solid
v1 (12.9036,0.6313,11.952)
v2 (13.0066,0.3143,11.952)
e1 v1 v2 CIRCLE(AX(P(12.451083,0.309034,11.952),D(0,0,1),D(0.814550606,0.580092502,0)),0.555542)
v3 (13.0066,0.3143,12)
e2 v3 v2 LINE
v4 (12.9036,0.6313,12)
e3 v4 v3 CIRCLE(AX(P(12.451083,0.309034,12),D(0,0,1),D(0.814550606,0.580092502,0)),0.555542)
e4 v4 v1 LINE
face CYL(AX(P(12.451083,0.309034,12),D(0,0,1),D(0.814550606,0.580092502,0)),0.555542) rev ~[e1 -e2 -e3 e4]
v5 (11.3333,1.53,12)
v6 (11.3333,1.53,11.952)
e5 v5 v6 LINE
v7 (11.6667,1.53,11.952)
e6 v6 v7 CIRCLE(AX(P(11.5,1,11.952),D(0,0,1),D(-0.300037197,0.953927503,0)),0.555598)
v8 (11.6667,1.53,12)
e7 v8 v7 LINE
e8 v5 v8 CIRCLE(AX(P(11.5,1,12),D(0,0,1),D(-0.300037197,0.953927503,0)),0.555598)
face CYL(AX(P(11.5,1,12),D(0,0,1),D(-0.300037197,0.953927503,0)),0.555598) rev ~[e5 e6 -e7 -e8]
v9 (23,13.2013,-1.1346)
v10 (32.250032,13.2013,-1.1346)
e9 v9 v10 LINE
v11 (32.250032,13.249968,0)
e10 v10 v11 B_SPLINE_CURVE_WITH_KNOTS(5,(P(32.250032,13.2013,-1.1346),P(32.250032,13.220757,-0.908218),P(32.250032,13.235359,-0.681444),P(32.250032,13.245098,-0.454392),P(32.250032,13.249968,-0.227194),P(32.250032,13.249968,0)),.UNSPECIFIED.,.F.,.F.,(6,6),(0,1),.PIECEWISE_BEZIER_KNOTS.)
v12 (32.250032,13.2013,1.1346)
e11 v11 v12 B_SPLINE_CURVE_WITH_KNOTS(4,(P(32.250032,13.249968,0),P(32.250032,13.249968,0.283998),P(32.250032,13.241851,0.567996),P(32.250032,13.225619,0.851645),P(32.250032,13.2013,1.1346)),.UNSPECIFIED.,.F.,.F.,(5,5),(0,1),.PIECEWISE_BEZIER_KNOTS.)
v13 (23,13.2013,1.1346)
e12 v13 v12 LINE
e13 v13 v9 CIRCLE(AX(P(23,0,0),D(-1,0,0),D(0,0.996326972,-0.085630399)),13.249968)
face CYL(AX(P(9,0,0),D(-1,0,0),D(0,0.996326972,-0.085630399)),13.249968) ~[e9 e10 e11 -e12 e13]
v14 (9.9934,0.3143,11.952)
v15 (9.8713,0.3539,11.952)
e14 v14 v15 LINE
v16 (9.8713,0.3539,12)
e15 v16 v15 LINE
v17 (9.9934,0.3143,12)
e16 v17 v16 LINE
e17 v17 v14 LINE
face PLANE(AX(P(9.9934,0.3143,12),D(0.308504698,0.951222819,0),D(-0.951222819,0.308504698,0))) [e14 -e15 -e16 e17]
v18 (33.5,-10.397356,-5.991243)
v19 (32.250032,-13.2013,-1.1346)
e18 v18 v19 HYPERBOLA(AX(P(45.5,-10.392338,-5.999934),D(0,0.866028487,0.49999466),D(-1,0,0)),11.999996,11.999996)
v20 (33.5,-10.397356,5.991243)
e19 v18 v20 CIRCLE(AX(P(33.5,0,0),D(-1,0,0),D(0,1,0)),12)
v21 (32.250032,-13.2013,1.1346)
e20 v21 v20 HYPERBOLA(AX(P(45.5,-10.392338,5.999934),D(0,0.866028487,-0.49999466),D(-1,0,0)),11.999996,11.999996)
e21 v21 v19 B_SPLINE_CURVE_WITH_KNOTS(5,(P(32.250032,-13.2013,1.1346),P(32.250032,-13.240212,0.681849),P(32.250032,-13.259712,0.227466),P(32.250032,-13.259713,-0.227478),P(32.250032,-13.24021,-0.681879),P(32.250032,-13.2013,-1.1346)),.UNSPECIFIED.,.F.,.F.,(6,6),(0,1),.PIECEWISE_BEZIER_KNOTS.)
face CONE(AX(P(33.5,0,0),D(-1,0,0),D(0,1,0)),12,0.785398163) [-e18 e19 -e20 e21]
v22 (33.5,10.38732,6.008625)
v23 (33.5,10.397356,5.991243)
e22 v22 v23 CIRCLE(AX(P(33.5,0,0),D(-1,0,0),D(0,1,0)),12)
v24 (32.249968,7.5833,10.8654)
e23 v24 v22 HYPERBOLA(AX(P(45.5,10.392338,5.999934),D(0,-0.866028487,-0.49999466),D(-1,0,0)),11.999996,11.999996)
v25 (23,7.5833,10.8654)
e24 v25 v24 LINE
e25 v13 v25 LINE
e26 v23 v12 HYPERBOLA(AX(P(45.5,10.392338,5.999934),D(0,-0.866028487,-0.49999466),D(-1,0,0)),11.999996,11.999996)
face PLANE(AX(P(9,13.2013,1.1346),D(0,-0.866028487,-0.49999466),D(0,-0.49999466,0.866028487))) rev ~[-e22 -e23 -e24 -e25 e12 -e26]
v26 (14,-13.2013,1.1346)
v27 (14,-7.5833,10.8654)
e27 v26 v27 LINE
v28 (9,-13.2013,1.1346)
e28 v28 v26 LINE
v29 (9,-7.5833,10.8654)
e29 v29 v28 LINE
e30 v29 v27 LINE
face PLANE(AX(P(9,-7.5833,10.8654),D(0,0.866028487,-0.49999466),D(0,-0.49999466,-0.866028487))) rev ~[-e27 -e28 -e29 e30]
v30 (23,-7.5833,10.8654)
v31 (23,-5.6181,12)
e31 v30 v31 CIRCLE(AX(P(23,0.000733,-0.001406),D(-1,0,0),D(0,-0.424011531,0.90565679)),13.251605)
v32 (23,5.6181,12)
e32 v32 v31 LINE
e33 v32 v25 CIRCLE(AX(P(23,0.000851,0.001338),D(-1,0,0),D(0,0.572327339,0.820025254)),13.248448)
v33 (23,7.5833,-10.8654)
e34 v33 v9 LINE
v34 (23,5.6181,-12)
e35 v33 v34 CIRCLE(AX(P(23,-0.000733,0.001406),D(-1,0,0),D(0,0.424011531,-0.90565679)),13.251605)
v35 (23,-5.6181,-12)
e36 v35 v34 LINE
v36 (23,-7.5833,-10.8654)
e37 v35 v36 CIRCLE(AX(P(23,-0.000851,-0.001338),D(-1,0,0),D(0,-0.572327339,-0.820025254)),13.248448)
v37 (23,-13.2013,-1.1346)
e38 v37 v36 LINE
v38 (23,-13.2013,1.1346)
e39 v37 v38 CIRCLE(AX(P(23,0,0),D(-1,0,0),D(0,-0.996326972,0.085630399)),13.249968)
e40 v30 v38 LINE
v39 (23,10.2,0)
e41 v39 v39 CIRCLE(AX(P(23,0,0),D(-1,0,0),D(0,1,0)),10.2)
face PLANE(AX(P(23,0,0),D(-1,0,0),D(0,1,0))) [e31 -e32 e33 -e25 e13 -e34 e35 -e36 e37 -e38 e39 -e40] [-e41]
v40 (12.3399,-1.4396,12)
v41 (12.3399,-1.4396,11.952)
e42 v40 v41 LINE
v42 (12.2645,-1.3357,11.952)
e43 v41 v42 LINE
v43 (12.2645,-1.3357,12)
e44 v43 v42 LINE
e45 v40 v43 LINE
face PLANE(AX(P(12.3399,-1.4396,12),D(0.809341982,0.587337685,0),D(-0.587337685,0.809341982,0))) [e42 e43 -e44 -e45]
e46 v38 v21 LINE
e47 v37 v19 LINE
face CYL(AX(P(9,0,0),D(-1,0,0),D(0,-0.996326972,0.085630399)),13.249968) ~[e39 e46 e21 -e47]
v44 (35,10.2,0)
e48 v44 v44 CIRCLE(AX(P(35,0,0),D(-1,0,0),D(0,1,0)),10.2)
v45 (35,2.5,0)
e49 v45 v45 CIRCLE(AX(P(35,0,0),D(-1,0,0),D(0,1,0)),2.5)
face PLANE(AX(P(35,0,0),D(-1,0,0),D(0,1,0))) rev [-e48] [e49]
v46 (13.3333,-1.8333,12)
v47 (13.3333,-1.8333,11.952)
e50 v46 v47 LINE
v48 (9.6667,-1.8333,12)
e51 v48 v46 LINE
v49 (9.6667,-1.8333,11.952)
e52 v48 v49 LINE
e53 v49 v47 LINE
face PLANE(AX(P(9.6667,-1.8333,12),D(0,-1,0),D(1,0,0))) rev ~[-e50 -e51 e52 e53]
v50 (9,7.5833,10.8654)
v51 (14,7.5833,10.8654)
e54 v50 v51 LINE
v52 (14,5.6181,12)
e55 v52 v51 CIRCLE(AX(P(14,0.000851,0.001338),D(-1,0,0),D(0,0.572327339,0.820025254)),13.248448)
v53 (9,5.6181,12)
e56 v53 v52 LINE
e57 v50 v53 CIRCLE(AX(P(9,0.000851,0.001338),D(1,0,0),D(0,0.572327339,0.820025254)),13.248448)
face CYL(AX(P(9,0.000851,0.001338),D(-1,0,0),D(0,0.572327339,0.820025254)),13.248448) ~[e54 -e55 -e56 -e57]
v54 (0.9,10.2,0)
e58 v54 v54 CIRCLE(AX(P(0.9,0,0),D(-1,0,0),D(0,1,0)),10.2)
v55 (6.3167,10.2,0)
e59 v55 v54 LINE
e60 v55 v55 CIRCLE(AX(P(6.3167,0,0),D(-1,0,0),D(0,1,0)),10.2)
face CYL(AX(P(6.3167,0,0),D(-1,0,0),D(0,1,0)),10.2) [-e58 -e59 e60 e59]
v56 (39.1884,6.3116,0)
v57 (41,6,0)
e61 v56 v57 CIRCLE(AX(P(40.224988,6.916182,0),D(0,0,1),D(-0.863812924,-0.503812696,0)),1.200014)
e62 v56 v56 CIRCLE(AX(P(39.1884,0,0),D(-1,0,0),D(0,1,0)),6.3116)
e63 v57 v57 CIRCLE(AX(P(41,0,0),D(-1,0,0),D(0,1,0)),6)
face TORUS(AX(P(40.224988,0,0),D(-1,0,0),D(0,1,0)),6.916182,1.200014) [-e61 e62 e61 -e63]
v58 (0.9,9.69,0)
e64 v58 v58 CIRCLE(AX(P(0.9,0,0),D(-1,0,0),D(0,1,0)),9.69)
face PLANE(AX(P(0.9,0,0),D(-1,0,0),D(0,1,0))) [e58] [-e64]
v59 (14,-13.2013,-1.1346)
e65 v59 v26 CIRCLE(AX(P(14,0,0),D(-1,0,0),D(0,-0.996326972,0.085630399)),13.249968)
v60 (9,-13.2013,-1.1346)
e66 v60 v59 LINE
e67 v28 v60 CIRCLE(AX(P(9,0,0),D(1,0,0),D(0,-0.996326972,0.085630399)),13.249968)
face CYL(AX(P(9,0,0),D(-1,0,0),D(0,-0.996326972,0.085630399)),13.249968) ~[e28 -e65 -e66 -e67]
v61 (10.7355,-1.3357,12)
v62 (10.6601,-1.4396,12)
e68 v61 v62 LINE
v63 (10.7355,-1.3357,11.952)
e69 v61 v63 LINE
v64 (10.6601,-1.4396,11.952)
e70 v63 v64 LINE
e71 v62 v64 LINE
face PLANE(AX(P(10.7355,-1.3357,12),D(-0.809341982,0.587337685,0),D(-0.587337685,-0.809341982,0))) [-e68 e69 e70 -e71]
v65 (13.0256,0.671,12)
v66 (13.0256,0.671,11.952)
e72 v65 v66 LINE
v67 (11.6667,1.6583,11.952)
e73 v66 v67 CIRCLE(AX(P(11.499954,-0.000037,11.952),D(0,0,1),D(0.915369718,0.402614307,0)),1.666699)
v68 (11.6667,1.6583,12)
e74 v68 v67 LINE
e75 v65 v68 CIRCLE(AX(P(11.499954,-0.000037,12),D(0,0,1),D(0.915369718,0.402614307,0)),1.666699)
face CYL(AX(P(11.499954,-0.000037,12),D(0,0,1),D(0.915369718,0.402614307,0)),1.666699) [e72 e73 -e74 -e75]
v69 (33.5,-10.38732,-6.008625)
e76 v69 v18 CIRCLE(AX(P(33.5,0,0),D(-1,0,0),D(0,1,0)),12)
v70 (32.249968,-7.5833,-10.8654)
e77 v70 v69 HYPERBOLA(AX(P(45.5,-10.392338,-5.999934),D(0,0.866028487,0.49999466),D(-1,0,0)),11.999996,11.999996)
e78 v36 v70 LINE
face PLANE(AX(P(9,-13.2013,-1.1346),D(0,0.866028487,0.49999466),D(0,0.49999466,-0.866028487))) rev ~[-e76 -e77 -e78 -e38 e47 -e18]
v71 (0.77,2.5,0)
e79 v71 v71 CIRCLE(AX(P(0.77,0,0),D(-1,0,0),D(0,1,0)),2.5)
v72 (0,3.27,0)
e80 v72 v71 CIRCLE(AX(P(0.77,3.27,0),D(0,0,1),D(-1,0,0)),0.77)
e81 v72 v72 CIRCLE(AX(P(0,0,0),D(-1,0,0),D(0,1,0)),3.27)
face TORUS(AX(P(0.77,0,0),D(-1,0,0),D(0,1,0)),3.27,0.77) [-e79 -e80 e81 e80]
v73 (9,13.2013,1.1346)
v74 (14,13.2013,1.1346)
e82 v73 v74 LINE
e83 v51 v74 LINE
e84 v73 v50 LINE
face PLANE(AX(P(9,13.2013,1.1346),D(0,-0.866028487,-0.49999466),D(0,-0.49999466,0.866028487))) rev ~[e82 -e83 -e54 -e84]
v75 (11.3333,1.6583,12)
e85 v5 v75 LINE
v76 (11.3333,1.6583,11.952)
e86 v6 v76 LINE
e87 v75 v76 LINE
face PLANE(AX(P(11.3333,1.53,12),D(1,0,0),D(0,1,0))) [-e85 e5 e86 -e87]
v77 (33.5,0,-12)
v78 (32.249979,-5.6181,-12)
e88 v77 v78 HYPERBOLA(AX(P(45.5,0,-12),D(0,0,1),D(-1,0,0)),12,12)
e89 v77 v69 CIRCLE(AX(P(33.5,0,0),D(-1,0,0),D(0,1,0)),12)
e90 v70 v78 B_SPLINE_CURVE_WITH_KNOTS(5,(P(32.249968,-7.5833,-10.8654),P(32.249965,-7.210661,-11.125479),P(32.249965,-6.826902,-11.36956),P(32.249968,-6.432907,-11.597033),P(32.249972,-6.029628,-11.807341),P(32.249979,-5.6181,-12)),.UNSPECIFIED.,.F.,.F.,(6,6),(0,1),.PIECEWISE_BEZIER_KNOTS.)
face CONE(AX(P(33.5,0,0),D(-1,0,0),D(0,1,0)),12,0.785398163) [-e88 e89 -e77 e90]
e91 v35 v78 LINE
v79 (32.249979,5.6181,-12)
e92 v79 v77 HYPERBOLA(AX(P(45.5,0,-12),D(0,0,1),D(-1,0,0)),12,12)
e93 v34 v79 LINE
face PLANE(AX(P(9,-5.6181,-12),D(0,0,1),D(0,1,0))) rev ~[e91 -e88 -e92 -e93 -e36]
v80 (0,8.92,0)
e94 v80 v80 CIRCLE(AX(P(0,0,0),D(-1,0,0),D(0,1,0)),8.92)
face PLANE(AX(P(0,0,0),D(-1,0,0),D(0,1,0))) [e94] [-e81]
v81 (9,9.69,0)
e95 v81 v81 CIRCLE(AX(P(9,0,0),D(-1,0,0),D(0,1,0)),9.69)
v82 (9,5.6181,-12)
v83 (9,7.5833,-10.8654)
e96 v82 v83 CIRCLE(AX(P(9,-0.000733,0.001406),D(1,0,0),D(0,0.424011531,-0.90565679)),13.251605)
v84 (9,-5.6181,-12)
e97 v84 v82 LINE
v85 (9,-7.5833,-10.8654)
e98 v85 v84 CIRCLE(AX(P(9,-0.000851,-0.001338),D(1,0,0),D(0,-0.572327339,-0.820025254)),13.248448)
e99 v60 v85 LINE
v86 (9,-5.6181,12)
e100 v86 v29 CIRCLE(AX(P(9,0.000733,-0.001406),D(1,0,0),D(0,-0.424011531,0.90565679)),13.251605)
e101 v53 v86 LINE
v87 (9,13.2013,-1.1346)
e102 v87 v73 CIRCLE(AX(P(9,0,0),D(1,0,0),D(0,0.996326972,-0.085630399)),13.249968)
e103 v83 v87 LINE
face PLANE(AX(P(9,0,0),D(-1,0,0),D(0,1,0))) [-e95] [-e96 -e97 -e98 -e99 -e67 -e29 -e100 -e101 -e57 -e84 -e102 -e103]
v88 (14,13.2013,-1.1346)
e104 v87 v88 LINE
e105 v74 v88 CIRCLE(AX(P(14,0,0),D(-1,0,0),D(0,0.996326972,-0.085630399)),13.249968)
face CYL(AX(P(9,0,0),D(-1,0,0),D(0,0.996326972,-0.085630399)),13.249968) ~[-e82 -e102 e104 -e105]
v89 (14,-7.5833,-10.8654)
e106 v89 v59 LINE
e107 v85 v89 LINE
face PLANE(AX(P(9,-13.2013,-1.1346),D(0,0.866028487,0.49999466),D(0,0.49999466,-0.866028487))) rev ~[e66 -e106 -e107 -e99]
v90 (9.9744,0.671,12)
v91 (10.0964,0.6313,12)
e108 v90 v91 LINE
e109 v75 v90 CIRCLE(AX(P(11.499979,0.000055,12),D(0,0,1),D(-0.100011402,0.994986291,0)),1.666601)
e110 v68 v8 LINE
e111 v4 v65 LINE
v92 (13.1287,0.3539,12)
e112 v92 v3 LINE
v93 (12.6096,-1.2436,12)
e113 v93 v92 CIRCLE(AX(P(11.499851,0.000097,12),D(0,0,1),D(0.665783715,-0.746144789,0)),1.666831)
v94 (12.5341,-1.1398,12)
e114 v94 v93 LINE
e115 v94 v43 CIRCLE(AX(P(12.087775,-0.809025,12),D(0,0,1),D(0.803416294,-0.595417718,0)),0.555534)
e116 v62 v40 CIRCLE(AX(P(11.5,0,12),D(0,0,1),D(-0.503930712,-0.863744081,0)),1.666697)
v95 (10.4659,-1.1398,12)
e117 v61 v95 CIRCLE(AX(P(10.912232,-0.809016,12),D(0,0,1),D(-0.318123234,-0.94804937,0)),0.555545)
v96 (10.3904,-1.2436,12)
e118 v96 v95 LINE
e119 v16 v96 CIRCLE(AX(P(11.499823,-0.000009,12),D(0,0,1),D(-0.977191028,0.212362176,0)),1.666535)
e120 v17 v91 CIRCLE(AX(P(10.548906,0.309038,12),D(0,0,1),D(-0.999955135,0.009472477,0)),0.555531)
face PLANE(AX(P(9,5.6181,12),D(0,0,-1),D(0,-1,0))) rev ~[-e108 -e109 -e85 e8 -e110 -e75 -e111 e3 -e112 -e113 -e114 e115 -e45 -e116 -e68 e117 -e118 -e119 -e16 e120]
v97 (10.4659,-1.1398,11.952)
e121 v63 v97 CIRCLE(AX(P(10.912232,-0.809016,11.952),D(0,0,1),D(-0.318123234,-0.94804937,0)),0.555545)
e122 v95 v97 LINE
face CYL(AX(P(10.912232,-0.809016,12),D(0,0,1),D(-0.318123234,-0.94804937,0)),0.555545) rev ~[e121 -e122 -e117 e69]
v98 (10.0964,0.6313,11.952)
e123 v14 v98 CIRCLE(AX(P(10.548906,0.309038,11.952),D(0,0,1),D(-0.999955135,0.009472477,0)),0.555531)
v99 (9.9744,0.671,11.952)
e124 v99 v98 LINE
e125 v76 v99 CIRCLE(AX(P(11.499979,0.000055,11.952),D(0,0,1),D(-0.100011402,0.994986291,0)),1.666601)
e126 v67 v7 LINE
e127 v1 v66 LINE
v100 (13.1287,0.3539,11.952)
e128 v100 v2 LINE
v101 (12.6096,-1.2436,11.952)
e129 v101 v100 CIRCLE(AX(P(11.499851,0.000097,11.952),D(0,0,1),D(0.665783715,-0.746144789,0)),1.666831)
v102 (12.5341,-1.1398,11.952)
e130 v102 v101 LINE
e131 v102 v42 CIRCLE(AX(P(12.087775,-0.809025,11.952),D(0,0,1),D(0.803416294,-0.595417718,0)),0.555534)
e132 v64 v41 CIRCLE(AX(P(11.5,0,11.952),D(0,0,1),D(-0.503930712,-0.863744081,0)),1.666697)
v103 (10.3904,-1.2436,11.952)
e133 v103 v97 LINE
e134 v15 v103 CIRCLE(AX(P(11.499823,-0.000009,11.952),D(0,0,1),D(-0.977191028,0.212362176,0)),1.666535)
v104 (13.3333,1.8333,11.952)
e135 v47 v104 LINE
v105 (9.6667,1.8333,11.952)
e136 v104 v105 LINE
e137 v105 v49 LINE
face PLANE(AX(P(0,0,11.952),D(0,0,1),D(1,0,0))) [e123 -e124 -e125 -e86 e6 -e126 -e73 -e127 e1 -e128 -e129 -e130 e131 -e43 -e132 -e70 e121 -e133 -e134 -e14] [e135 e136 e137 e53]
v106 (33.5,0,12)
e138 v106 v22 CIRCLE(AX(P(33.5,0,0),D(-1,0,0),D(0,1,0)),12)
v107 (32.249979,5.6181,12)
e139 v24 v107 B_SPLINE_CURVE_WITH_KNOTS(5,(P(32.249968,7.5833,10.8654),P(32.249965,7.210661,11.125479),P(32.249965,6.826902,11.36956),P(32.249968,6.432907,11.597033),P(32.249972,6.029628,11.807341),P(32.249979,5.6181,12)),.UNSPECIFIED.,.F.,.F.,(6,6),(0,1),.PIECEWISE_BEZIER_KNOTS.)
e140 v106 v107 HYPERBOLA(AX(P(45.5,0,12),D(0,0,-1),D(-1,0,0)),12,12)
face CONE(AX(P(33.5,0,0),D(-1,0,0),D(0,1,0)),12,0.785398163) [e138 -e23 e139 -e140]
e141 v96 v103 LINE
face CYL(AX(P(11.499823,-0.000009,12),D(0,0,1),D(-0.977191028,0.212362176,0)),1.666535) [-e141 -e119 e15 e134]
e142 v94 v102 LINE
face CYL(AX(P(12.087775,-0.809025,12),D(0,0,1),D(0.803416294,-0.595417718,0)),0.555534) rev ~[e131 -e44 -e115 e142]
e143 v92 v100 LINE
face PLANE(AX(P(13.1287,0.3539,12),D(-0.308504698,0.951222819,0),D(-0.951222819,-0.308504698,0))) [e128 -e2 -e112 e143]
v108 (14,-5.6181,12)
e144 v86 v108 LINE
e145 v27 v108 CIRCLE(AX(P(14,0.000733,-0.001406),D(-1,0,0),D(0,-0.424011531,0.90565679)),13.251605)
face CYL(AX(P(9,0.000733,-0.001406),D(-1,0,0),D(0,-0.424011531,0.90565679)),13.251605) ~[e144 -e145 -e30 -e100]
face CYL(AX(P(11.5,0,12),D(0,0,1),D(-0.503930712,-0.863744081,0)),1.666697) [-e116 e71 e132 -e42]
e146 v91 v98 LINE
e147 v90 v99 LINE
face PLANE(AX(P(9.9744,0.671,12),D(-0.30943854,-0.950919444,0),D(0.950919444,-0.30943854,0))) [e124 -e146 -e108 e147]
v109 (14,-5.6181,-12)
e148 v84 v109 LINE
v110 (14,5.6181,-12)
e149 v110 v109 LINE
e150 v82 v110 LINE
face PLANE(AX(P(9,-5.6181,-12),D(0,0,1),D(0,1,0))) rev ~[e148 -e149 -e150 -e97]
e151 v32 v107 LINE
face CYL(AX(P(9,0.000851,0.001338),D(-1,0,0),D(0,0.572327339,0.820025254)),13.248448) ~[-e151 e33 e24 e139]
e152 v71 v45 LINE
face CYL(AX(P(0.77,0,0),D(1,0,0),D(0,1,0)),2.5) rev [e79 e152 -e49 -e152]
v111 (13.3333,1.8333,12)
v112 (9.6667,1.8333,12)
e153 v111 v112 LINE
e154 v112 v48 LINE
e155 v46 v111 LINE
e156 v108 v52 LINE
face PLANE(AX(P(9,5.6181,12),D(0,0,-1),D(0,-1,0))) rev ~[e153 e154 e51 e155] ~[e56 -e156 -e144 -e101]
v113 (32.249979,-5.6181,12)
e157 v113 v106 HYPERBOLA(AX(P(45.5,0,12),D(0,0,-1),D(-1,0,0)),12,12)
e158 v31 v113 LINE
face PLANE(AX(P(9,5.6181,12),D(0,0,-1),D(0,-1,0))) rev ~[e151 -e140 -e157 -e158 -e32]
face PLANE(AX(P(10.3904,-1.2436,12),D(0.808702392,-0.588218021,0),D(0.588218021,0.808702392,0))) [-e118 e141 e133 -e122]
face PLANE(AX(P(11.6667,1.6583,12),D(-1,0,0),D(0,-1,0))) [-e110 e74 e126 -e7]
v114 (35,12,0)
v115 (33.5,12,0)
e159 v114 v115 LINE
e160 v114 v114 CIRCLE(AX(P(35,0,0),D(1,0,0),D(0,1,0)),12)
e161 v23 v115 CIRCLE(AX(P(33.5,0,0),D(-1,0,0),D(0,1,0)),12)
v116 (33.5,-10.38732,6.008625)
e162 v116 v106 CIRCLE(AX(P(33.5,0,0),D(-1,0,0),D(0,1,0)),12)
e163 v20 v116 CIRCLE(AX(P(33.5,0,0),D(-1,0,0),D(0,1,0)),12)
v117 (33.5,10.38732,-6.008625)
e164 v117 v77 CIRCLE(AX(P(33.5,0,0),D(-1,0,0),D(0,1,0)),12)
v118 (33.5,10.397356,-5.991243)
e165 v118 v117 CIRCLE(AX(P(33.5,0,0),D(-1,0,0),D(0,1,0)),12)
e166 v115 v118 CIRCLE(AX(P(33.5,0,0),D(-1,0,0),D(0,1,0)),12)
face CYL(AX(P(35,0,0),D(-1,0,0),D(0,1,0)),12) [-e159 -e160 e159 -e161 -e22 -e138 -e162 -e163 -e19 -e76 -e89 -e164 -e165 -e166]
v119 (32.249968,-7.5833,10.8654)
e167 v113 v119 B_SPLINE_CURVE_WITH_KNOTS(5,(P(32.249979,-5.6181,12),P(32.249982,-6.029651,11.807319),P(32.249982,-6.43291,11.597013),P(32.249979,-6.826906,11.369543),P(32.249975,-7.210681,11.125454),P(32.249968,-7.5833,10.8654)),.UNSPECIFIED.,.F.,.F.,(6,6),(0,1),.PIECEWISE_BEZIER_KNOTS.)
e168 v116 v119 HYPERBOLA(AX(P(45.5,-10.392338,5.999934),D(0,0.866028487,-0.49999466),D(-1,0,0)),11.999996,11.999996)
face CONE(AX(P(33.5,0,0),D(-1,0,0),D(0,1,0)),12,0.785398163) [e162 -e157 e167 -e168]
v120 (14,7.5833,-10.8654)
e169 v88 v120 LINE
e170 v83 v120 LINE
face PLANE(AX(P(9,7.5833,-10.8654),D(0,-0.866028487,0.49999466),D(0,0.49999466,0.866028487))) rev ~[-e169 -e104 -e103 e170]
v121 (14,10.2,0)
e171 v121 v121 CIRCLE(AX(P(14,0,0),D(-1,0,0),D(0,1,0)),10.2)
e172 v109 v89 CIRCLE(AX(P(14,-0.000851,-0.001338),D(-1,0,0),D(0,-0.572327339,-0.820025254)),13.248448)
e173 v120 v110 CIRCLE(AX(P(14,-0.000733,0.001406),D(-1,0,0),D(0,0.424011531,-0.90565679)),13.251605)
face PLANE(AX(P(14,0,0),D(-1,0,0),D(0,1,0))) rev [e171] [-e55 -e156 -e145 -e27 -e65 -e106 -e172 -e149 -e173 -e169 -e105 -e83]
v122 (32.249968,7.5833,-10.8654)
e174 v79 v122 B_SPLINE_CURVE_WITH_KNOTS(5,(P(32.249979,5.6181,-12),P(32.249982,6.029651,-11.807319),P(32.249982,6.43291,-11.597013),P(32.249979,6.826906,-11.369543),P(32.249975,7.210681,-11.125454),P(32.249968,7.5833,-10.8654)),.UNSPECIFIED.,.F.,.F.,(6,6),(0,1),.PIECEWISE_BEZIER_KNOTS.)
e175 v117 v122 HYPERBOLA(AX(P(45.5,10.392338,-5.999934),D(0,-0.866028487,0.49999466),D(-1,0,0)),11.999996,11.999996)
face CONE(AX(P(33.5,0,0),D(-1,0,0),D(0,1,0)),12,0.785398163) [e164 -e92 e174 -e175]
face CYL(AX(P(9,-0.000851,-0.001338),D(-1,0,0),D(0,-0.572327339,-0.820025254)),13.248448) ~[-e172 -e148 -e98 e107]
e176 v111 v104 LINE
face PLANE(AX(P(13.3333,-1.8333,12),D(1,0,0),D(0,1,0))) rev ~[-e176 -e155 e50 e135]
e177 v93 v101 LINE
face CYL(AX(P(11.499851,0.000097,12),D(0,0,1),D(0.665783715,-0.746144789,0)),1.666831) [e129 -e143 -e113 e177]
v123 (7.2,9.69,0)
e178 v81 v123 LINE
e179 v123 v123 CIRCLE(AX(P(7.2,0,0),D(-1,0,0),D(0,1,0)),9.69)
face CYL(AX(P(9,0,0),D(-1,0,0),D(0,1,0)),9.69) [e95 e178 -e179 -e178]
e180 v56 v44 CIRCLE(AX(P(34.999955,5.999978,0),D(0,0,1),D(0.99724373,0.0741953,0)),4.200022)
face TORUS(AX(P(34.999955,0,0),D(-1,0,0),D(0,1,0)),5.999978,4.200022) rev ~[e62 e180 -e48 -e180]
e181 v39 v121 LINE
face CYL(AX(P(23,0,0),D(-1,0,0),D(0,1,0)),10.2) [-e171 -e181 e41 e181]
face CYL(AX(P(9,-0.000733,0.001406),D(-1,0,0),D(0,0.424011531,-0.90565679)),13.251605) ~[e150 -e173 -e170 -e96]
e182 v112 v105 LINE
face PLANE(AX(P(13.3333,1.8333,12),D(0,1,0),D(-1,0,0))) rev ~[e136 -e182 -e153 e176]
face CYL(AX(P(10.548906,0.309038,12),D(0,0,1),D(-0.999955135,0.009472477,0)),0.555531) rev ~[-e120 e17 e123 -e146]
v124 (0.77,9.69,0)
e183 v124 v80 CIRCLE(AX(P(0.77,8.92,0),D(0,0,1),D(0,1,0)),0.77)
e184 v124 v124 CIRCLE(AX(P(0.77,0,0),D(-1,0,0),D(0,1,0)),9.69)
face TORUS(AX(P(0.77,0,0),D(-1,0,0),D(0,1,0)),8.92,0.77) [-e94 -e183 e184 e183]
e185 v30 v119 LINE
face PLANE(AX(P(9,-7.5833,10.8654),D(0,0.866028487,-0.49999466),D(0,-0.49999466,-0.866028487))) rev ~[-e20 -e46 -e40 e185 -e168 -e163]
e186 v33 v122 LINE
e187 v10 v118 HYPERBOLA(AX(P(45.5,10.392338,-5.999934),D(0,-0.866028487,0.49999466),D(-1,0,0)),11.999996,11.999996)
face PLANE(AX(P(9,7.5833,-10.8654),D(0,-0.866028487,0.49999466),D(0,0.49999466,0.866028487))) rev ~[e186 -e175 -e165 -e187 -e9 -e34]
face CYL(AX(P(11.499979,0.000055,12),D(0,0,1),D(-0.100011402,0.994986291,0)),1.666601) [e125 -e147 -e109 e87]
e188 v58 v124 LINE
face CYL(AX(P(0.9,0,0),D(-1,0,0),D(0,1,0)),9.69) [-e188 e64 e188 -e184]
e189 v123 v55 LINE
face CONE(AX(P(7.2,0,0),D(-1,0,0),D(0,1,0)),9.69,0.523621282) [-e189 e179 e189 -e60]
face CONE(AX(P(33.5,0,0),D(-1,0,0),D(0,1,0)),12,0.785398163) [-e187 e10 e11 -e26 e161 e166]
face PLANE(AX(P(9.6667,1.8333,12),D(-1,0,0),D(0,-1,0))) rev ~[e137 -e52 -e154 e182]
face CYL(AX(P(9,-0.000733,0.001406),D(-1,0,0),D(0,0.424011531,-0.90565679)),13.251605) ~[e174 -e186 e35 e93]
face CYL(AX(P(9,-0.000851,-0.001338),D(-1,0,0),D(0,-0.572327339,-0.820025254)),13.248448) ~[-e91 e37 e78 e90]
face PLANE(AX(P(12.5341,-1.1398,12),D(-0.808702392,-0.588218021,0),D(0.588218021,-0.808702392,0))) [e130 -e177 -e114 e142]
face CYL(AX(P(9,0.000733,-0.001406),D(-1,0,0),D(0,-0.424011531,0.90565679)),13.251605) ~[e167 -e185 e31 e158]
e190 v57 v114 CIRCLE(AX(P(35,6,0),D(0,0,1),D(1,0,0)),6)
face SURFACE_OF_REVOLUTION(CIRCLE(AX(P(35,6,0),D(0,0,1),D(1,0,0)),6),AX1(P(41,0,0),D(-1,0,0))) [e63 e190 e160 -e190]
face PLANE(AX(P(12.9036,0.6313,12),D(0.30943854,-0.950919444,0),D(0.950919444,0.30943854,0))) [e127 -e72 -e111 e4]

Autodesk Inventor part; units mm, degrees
ref_plane "YZ Plane" through (0, 0, 0) normal (1, 0, 0) x (0, 1, 0)
ref_plane "XZ Plane" through (0, 0, 0) normal (0, 1, 0) x (-1, 0, 0)
ref_plane "XY Plane" through (0, 0, 0) normal (0, 0, 1) x (1, 0, 0)
sketch "Sketch_1" plane through (0, 0, 0) normal (0, 0, 1) x (1, 0, 0)
  line L0 (41, 0) -> (0, 0)
  line L1 (0, 8.92) -> (0, 3.27)
  arc A0 (0, 3.27) -> (0.77, 2.5) centre (0.77, 3.27) ccw
  line L2 (0.77, 2.5) -> (35, 2.5)
  line L3 (35, 2.5) -> (35, 10.2)
  arc A1 (39.1884, 6.3116) -> (35, 10.2) centre (35, 6) ccw
  arc A2 (39.1884, 6.3116) -> (41, 6) centre (40.225, 6.9162) ccw
  arc A3 (41, 6) -> (35, 12) centre (35, 6) ccw
  line L4 (35, 12) -> (33.5, 12)
  line L5 (33.5, 12) -> (29.5, 16)
  line L6 (29.5, 16) -> (23, 16)
  line L7 (23, 16) -> (23, 10.2)
  line L8 (23, 10.2) -> (14, 10.2)
  line L9 (14, 10.2) -> (14, 16)
  line L10 (14, 16) -> (9, 16)
  line L11 (9, 16) -> (9, 9.69)
  line L12 (9, 9.69) -> (7.2, 9.69)
  line L13 (7.2, 9.69) -> (6.3167, 10.2)
  line L14 (6.3167, 10.2) -> (0.9, 10.2)
  line L15 (0.9, 10.2) -> (0.9, 9.69)
  line L16 (0.9, 9.69) -> (0.77, 9.69)
  arc A4 (0.77, 9.69) -> (0, 8.92) centre (0.77, 8.92) ccw
revolve "Revolution1" add sketch "Sketch_1" angle 360 about axis through (41, 0, 0) along (-1, 0, 0)
sketch "Sketch_2" plane through (9, 0, 0) normal (1, 0, 0) x (0, 0, -1)
  line L0 (-24, 24) -> (-24, -24)
  line L1 (-24, -24) -> (24, -24)
  line L2 (24, -24) -> (24, 24)
  line L3 (24, 24) -> (-24, 24)
  arc A0 (-12, -5.6181) -> (-10.8654, -7.5833) centre (0, 0) ccw
  line L4 (-10.8654, -7.5833) -> (-1.1346, -13.2013)
  arc A1 (-1.1346, -13.2013) -> (1.1346, -13.2013) centre (0, 0) ccw
  line L5 (1.1346, -13.2013) -> (10.8654, -7.5833)
  arc A2 (10.8654, -7.5833) -> (12, -5.6181) centre (0, 0) ccw
  line L6 (12, -5.6181) -> (12, 5.6181)
  arc A3 (12, 5.6181) -> (10.8654, 7.5833) centre (0, 0) ccw
  line L7 (10.8654, 7.5833) -> (1.1346, 13.2013)
  arc A4 (1.1346, 13.2013) -> (-1.1346, 13.2013) centre (0, 0) ccw
  line L8 (-1.1346, 13.2013) -> (-10.8654, 7.5833)
  arc A5 (-10.8654, 7.5833) -> (-12, 5.6181) centre (0, 0) ccw
  line L9 (-12, 5.6181) -> (-12, -5.6181)
extrude "Extrusion1" cut sketch "Sketch_2" along normal blind 41
sketch "Skizze_1" plane through (0, 0, 12) normal (0, 0, 1) x (1, 0, 0)
  line L0 (9.6667, 1.8333) -> (9.6667, -1.8333)
  line L1 (9.6667, -1.8333) -> (13.3333, -1.8333)
  line L2 (13.3333, -1.8333) -> (13.3333, 1.8333)
  line L3 (13.3333, 1.8333) -> (9.6667, 1.8333)
  arc A0 (9.8713, 0.3539) -> (10.3904, -1.2436) centre (11.5, 0) ccw
  line L4 (10.3904, -1.2436) -> (10.4659, -1.1398)
  arc A1 (10.7355, -1.3357) -> (10.4659, -1.1398) centre (10.9122, -0.809) ccw
  line L5 (10.7355, -1.3357) -> (10.6601, -1.4396)
  arc A2 (10.6601, -1.4396) -> (12.3399, -1.4396) centre (11.5, 0) ccw
  line L6 (12.3399, -1.4396) -> (12.2645, -1.3357)
  arc A3 (12.5341, -1.1398) -> (12.2645, -1.3357) centre (12.0878, -0.809) ccw
  line L7 (12.5341, -1.1398) -> (12.6096, -1.2436)
  arc A4 (12.6096, -1.2436) -> (13.1287, 0.3539) centre (11.5, 0) ccw
  line L8 (13.1287, 0.3539) -> (13.0066, 0.3143)
  arc A5 (12.9036, 0.6313) -> (13.0066, 0.3143) centre (12.4511, 0.309) ccw
  line L9 (12.9036, 0.6313) -> (13.0256, 0.671)
  arc A6 (13.0256, 0.671) -> (11.6667, 1.6583) centre (11.5, 0) ccw
  line L10 (11.6667, 1.6583) -> (11.6667, 1.53)
  arc A7 (11.3333, 1.53) -> (11.6667, 1.53) centre (11.5, 1) ccw
  line L11 (11.3333, 1.53) -> (11.3333, 1.6583)
  arc A8 (11.3333, 1.6583) -> (9.9744, 0.671) centre (11.5, 0) ccw
  line L12 (9.9744, 0.671) -> (10.0964, 0.6313)
  arc A9 (9.9934, 0.3143) -> (10.0964, 0.6313) centre (10.5489, 0.309) ccw
  line L13 (9.9934, 0.3143) -> (9.8713, 0.3539)
extrude "Extrusion2" cut sketch "Skizze_1" against normal blind 0.048
properties part number "SKINTOP ST PG 13,5      Art. Nr. 53015030(F=5) Kunststoff"
